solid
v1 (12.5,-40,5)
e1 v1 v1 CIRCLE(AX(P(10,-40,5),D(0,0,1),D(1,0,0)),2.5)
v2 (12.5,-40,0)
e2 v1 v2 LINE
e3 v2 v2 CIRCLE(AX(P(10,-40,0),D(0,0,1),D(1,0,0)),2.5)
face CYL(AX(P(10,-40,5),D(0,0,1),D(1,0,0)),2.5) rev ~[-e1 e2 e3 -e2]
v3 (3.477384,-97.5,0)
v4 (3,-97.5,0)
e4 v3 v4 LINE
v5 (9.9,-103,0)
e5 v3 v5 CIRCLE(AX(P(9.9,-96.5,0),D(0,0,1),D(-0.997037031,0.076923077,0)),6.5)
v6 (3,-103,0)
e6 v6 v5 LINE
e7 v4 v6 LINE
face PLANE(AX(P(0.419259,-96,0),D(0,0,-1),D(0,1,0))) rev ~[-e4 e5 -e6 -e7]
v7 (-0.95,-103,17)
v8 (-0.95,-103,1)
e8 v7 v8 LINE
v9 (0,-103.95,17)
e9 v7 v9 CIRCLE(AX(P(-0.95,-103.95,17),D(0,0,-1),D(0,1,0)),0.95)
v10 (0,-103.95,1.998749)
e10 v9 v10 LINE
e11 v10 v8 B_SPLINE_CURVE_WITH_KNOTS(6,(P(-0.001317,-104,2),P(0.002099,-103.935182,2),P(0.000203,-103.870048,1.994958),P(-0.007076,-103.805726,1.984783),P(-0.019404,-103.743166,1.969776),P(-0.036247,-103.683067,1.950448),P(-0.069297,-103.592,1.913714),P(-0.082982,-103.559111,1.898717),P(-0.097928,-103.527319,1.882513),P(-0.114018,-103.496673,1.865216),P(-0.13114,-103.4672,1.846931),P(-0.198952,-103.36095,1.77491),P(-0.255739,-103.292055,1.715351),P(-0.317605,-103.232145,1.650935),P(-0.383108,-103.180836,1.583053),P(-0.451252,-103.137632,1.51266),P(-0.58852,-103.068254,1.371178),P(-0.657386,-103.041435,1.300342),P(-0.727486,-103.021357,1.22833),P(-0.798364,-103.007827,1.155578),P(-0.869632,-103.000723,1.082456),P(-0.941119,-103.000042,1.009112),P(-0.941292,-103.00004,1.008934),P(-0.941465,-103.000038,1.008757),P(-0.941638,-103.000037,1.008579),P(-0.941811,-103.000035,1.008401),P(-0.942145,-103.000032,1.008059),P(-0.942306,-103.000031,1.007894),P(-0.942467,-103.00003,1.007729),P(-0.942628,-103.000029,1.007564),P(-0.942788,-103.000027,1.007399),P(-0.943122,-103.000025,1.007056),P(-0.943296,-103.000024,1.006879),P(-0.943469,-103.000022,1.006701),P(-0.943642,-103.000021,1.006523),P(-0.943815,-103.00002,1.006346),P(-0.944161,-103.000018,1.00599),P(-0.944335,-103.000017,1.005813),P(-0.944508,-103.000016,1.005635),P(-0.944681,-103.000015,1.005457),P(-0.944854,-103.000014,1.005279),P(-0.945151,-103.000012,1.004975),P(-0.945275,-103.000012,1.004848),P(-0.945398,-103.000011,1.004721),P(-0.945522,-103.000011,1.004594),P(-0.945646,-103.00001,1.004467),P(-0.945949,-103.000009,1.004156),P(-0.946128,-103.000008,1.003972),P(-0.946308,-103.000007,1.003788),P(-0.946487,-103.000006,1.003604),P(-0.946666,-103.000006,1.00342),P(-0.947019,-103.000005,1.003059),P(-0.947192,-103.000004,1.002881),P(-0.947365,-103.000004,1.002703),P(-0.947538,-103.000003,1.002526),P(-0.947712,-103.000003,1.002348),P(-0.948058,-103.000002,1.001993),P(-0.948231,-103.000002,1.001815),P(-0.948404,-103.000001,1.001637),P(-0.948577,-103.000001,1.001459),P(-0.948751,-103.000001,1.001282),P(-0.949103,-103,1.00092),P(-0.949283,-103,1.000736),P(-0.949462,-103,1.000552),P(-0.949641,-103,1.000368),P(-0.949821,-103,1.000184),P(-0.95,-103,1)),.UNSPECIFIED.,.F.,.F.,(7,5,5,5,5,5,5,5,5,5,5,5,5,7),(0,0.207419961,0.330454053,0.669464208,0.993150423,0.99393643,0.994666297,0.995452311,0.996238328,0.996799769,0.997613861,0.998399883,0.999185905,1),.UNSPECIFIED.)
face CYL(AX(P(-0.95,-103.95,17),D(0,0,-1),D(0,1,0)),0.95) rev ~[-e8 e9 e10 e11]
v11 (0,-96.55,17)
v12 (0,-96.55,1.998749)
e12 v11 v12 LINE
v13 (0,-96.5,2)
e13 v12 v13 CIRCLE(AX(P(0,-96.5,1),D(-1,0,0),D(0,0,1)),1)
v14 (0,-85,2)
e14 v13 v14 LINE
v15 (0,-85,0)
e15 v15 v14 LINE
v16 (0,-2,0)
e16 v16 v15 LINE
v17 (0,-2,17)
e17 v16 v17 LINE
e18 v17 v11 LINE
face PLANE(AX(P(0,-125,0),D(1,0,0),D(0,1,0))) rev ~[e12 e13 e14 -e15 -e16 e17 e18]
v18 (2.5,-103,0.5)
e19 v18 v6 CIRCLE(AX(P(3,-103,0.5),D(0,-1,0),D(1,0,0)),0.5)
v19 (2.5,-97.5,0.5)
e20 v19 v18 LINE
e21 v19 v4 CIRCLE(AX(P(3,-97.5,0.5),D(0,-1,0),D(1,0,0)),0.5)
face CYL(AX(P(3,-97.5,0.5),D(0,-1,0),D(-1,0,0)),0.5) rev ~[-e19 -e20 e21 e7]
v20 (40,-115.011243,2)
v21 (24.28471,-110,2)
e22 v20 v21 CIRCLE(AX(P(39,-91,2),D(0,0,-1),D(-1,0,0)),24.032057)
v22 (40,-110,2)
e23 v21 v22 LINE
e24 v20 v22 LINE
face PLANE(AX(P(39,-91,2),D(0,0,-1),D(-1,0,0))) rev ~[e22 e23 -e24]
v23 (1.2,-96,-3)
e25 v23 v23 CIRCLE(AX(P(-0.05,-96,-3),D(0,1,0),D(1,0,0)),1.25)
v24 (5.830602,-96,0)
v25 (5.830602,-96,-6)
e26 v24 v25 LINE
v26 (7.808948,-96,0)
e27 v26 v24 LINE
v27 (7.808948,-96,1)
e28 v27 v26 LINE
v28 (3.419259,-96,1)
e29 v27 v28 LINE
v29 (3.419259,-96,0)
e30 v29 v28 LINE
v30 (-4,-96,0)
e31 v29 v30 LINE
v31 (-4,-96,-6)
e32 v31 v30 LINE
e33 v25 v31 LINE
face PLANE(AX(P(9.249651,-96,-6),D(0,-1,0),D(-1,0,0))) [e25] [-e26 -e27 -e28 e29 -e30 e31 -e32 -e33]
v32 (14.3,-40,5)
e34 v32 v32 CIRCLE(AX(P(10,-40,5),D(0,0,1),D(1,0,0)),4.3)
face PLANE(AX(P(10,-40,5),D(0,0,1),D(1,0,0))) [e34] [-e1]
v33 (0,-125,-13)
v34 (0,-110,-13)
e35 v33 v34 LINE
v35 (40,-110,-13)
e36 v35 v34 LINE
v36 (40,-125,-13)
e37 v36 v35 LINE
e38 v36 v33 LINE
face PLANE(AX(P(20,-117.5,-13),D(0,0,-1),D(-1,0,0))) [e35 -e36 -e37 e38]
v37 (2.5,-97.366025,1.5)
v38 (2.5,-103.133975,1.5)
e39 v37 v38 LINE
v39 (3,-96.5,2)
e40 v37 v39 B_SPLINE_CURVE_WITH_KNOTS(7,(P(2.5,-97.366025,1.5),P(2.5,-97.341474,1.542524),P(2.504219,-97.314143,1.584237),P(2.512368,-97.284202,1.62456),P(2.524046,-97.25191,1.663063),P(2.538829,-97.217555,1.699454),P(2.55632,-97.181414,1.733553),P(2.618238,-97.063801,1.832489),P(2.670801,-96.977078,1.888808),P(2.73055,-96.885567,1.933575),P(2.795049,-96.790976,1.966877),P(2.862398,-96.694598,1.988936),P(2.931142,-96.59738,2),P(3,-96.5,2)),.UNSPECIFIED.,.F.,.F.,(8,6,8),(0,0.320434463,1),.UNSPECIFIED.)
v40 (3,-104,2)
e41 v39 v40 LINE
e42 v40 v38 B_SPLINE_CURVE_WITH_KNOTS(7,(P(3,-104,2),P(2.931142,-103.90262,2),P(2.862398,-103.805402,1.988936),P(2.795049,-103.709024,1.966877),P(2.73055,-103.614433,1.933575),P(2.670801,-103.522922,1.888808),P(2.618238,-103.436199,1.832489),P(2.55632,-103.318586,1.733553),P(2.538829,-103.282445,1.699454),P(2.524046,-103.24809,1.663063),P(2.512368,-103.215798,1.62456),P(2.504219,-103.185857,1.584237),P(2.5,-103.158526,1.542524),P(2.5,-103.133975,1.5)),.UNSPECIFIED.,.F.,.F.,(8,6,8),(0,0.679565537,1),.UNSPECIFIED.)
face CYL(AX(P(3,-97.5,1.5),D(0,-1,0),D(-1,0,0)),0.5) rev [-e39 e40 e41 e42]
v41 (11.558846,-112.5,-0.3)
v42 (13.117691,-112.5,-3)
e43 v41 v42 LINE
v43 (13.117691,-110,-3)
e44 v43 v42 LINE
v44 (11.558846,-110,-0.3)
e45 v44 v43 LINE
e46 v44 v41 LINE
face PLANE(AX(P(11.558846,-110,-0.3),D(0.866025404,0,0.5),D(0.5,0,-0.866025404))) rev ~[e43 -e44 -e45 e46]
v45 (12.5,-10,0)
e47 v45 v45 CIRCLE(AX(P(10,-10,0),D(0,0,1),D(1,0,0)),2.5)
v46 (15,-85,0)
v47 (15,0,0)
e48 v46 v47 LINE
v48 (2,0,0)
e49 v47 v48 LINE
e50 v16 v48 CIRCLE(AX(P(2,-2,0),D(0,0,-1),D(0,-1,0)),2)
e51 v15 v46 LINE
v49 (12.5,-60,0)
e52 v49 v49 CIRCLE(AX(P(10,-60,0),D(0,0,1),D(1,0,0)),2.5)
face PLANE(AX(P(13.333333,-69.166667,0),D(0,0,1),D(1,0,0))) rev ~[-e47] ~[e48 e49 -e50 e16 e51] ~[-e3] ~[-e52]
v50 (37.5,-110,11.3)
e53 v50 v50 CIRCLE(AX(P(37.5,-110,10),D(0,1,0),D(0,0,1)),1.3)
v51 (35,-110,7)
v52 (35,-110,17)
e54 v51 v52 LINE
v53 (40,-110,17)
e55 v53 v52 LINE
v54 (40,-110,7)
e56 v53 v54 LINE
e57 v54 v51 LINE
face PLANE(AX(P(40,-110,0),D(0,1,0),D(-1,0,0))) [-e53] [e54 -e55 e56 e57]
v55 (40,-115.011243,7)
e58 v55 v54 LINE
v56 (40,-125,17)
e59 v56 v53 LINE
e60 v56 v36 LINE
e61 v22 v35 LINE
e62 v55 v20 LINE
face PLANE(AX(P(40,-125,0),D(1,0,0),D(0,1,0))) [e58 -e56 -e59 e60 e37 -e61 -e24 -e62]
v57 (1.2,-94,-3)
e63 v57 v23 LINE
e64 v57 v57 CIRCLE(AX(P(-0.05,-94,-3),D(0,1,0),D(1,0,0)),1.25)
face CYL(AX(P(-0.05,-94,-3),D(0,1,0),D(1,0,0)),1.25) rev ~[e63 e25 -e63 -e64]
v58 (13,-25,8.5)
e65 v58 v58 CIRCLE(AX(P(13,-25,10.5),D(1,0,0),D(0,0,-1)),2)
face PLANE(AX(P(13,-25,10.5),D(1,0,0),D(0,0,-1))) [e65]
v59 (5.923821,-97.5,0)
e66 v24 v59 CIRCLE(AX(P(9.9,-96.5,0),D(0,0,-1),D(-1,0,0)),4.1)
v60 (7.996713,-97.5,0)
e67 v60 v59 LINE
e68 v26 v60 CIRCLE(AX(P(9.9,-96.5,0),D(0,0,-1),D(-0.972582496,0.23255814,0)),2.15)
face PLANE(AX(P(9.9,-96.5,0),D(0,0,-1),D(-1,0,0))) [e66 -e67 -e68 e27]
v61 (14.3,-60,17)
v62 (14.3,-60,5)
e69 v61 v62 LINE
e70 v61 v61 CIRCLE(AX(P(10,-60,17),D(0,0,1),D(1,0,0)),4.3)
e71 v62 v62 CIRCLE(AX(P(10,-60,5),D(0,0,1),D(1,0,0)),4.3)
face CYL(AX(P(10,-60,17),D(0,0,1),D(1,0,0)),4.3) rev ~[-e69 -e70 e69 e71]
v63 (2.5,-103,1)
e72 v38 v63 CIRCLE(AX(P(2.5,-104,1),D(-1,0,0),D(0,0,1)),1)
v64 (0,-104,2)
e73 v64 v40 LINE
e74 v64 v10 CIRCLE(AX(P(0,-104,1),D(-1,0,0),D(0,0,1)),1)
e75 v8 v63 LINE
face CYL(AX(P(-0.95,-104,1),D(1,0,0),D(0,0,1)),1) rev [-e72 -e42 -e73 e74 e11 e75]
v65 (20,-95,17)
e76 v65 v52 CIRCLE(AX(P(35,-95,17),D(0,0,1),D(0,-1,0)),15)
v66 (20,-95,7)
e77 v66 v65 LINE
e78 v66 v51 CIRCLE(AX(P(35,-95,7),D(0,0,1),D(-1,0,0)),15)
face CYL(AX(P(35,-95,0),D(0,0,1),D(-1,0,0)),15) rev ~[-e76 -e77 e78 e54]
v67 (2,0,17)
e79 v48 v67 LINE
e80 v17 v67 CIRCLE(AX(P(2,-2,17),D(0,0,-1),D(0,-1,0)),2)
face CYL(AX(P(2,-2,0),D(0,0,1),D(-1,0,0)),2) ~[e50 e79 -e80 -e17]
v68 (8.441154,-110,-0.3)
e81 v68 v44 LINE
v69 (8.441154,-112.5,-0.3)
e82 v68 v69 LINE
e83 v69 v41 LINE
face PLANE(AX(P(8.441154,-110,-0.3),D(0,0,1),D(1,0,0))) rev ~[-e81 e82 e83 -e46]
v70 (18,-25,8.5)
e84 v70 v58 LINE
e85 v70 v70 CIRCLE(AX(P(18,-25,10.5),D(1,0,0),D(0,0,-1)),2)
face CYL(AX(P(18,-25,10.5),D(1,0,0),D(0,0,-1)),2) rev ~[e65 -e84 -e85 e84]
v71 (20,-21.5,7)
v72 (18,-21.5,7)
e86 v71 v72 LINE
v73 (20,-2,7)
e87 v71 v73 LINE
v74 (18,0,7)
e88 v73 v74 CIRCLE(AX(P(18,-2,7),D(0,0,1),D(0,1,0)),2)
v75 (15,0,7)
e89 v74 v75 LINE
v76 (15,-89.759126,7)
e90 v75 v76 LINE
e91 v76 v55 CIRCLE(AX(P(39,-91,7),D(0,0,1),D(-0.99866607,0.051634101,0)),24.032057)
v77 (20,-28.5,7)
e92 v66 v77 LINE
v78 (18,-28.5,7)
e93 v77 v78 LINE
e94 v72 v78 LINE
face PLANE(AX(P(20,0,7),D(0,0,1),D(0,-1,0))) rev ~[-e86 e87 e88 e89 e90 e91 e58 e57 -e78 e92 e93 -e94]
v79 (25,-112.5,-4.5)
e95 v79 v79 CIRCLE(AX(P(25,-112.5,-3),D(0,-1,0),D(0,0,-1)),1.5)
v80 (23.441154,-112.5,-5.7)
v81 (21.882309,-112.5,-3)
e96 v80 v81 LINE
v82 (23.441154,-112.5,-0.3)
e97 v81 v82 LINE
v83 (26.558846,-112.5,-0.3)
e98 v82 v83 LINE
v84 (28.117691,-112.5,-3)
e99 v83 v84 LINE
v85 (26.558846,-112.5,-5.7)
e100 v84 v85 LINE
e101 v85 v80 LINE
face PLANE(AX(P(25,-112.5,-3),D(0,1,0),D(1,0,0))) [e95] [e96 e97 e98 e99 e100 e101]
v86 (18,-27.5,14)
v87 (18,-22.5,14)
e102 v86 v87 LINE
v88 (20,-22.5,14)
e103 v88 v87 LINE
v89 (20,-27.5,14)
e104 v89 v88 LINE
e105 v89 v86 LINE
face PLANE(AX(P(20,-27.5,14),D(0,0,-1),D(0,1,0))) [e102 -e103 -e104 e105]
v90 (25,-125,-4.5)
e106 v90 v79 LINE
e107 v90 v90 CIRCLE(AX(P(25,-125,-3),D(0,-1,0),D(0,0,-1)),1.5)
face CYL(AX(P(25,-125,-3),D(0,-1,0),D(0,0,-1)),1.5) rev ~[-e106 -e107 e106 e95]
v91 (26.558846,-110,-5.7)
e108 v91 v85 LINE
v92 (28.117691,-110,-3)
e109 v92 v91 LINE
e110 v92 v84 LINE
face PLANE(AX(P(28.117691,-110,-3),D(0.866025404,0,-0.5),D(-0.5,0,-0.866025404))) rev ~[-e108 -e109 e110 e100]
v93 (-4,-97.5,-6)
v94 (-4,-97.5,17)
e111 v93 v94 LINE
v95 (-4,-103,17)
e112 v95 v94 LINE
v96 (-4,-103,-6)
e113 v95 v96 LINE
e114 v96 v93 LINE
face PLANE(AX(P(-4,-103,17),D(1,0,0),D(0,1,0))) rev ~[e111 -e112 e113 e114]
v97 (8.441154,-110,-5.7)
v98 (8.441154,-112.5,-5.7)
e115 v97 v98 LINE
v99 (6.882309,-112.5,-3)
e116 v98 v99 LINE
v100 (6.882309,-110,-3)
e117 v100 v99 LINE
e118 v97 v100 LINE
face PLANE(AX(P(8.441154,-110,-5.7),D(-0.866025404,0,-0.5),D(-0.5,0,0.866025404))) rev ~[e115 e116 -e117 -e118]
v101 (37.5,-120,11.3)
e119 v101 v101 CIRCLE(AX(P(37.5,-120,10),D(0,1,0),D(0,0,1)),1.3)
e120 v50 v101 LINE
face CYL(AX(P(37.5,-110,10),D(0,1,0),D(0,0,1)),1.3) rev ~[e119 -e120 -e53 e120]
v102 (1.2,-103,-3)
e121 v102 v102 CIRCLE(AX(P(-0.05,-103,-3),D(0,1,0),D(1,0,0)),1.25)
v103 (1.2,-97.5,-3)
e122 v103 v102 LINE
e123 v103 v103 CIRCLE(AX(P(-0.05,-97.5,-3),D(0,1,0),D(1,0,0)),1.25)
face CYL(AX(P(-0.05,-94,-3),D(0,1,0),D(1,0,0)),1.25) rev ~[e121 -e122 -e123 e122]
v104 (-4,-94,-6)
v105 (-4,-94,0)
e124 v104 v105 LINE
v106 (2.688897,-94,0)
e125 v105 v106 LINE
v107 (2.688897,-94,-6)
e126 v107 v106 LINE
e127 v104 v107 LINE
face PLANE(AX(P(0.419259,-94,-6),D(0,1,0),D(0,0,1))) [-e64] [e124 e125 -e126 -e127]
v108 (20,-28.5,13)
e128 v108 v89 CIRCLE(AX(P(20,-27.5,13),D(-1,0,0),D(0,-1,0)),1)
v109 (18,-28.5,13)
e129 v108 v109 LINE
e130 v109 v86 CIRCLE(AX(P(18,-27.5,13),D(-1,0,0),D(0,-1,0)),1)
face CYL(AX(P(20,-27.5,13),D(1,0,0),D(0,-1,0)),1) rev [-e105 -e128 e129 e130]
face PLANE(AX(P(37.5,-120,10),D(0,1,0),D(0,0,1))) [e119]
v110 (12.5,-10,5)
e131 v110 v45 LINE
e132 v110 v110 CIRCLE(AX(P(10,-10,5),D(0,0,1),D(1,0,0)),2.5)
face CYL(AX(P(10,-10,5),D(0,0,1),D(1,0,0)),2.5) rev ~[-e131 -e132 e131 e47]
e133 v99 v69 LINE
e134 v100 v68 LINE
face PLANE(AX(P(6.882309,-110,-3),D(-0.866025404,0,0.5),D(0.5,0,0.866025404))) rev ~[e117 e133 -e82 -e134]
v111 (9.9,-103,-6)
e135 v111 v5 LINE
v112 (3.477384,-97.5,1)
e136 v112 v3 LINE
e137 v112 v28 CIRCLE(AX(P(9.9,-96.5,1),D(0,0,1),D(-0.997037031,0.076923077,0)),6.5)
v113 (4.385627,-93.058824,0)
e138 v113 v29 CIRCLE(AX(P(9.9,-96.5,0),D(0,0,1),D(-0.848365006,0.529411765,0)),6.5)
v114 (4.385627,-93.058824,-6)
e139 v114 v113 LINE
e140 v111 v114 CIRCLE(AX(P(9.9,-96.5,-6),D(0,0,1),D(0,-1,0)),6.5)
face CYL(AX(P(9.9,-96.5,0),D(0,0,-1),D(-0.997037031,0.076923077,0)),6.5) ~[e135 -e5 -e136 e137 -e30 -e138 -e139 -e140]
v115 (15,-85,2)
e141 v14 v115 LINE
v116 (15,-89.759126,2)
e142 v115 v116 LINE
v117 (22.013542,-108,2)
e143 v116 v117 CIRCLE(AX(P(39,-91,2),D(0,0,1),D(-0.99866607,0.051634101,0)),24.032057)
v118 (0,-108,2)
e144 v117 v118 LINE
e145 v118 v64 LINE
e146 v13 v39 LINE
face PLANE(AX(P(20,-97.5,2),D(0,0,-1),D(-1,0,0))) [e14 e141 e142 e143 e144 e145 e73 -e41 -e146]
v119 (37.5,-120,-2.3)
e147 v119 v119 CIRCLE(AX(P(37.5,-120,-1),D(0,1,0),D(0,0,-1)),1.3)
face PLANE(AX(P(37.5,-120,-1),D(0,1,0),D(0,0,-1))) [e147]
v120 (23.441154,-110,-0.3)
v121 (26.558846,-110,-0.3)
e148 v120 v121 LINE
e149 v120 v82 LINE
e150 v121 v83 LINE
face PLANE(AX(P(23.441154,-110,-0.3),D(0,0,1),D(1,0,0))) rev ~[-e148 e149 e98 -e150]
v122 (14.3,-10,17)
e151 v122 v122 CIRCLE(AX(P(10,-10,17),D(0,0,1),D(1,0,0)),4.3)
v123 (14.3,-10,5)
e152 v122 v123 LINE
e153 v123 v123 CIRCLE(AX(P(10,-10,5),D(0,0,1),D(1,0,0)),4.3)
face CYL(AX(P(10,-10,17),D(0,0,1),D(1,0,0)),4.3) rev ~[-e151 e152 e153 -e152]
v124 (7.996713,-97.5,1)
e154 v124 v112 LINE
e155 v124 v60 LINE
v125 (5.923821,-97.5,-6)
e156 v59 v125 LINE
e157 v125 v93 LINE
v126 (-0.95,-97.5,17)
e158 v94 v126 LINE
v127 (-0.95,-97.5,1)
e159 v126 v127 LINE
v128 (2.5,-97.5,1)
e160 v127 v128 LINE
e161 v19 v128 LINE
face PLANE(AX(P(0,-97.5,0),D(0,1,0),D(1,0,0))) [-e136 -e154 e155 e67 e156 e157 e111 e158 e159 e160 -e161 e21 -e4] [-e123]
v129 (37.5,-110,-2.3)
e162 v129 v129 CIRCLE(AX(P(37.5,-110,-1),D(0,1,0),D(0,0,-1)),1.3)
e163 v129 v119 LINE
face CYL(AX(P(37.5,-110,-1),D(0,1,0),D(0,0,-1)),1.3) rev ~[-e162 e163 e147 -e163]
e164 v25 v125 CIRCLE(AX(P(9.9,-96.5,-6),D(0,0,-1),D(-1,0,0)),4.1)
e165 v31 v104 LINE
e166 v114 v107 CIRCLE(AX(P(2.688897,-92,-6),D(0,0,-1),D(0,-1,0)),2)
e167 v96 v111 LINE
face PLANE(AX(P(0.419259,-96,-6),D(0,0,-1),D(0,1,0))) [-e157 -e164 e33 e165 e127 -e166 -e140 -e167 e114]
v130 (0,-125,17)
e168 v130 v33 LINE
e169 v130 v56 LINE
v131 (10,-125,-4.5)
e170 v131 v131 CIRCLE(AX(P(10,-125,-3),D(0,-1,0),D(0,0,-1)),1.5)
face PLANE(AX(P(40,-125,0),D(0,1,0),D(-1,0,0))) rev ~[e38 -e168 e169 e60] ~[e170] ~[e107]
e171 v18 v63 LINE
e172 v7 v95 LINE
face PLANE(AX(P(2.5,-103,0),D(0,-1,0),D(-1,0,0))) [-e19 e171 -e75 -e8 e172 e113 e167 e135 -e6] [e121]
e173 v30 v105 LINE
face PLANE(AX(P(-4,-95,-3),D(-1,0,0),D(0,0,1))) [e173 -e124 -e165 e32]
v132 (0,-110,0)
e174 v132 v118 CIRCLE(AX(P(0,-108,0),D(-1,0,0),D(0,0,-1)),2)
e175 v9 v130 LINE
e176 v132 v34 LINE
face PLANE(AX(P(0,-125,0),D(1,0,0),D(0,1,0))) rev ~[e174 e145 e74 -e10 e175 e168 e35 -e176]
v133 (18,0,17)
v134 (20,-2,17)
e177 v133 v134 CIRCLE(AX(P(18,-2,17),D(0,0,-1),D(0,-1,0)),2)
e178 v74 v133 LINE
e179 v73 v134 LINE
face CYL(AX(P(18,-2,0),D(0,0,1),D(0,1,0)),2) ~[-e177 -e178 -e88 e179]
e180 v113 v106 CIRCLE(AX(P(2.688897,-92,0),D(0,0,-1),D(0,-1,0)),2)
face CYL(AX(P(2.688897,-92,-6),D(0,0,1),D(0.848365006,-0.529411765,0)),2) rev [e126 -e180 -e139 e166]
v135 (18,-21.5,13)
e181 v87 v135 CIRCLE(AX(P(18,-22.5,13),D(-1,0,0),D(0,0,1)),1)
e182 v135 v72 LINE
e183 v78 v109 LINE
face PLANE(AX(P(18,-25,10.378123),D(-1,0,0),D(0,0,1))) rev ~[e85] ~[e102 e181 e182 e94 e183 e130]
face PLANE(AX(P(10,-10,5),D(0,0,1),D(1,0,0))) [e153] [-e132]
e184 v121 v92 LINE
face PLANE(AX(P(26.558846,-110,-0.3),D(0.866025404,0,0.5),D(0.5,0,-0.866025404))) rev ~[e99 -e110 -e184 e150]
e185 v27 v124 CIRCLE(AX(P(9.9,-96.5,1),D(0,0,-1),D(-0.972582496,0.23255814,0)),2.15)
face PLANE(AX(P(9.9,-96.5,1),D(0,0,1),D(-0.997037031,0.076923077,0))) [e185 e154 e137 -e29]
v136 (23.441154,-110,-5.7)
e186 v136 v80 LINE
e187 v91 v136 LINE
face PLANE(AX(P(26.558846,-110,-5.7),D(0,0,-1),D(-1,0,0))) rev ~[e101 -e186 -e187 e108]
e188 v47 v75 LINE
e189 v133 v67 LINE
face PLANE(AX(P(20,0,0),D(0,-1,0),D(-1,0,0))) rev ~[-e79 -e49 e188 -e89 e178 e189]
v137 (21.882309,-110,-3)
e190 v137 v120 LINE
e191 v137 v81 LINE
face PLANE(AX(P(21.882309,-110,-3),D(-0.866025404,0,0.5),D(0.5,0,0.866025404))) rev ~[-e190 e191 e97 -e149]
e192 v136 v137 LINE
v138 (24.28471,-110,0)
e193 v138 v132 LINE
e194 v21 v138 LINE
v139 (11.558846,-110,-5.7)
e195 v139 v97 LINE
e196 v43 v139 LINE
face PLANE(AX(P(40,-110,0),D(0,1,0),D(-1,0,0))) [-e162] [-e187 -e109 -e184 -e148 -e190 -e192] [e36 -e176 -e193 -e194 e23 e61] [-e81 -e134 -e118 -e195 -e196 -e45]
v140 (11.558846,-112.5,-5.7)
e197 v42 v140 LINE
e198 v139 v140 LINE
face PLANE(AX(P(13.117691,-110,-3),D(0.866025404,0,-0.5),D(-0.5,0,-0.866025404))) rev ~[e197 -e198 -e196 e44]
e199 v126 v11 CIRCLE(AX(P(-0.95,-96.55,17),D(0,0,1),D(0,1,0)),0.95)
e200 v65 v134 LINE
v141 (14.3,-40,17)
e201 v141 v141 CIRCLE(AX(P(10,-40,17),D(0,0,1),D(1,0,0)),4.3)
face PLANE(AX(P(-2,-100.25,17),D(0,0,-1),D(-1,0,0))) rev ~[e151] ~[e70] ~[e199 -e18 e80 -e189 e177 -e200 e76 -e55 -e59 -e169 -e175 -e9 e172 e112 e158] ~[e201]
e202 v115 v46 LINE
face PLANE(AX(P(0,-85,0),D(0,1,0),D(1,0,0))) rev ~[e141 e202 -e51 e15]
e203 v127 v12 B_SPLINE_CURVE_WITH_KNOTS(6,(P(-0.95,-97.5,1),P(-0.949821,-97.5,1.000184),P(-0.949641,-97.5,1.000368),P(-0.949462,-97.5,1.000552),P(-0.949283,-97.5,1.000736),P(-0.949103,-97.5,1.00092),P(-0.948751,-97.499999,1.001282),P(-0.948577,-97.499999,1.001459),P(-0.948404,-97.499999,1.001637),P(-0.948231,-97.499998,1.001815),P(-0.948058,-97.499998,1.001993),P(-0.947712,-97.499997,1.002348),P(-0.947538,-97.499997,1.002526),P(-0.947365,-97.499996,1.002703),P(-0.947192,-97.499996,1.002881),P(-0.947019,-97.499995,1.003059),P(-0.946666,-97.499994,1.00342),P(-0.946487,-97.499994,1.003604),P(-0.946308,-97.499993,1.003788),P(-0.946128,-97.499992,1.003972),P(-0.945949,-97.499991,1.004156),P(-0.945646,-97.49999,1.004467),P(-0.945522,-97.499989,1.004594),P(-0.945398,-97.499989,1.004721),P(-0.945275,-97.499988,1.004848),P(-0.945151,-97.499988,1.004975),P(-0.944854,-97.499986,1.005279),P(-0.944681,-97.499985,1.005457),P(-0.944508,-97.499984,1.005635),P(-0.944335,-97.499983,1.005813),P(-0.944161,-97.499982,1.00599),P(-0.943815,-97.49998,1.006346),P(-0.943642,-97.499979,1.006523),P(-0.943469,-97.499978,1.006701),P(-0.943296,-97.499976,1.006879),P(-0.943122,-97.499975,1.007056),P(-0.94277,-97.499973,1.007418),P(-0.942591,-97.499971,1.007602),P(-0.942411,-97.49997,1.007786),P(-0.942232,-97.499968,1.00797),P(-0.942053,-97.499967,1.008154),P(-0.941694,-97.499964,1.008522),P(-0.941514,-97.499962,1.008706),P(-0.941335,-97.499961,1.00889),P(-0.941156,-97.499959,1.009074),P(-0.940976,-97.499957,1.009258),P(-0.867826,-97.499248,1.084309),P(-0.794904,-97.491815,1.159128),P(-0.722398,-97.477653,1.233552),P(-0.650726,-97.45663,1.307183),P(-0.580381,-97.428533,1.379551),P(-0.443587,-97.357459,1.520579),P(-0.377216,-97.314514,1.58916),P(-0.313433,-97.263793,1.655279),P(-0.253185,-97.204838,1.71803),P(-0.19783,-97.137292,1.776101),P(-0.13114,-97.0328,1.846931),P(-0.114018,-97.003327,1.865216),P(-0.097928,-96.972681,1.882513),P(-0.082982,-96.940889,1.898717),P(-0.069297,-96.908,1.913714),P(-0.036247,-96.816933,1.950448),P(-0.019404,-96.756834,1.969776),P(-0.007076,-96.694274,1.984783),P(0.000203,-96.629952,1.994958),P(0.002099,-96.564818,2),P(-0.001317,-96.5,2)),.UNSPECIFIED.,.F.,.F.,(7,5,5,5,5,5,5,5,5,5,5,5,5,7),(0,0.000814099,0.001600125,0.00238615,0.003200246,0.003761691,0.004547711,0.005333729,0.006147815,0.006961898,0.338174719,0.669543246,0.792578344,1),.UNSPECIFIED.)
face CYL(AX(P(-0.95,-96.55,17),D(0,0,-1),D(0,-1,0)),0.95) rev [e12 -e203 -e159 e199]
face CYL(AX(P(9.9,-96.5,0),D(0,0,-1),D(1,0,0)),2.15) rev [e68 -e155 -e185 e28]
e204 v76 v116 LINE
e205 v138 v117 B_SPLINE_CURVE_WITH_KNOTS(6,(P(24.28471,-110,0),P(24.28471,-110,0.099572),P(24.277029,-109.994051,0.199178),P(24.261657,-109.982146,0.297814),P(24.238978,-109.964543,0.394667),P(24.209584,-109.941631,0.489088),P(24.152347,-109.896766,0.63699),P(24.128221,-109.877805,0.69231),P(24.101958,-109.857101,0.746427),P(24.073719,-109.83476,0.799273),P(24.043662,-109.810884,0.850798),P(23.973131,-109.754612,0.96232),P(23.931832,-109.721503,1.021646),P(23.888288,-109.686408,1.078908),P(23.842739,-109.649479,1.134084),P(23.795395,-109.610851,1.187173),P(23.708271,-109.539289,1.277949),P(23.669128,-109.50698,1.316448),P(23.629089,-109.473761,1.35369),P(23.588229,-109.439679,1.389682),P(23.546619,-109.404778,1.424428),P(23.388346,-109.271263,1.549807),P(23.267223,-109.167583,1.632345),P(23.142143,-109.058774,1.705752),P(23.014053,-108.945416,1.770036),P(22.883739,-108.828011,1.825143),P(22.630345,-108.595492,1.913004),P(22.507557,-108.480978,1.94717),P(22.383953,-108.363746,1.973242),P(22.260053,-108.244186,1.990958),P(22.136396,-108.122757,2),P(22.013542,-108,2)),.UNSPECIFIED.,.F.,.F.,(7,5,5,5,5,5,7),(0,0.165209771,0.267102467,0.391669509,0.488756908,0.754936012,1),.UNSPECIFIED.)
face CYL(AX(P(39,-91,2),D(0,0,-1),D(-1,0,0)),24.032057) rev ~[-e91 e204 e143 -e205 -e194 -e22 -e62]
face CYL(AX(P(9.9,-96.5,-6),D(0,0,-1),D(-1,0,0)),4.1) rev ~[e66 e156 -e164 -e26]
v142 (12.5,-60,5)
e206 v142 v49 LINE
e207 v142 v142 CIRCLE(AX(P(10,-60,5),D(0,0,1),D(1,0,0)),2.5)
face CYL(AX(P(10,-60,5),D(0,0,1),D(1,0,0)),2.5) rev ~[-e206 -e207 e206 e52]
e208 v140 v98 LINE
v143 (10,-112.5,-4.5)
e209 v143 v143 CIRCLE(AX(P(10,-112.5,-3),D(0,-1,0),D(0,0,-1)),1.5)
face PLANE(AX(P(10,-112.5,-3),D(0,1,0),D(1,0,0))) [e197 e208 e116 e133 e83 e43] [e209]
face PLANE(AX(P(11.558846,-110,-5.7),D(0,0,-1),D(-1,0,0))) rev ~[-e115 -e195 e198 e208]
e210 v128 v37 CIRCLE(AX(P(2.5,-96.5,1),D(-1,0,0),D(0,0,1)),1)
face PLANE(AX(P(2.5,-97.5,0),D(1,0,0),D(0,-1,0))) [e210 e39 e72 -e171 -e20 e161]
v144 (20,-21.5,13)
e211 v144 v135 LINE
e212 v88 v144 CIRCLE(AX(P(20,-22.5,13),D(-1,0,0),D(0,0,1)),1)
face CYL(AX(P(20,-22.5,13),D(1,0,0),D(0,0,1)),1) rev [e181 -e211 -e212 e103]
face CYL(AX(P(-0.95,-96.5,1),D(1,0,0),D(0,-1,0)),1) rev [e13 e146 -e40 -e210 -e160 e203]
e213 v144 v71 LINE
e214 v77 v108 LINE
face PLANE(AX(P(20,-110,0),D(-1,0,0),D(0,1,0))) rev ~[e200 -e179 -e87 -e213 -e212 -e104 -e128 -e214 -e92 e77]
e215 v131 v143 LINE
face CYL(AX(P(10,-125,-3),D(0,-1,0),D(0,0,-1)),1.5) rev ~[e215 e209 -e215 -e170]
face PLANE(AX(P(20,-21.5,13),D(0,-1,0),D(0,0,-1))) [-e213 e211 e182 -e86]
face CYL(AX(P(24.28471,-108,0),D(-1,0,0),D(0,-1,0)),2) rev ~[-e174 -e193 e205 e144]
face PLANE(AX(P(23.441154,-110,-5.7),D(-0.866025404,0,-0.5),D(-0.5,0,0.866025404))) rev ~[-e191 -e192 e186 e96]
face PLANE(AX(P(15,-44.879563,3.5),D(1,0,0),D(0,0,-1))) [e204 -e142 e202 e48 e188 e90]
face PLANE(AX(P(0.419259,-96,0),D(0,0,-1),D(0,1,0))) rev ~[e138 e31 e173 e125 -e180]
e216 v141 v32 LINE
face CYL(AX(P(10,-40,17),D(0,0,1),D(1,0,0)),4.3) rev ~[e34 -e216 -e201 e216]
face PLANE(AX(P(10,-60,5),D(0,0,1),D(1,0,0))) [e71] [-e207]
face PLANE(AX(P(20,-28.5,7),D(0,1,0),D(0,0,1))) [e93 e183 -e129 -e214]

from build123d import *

# Parameters (mm, degrees)
BOSS_EXTRUDE1_DEPTH = 17
SKETCH3_W           = 40
SKETCH3_H           = 15
BOSS_EXTRUDE3_DEPTH = 13
FILLET1_R           = 15
SKETCH4_R           = 1.5000000000000004
SKETCH4_R_2         = 1.5000000000000007
CUT_EXTRUDE1_DEPTH  = 20
CUT_EXTRUDE2_DEPTH  = 2.5
SKETCH6_R           = 4.299999999999999
SKETCH6_R_2         = 4.299999999999998
SKETCH6_R_3         = 4.3
CUT_EXTRUDE3_DEPTH  = 12
SKETCH7_R           = 2.5000000000000004
SKETCH7_R_2         = 2.500000000000001
CUT_EXTRUDE4_DEPTH  = 12
CUT_EXTRUDE5_DEPTH  = 2
BOSS_EXTRUDE4_DEPTH = 23
BOSS_EXTRUDE5_DEPTH = 6
SKETCH11_W          = 6
SKETCH11_H          = 2
BOSS_EXTRUDE6_DEPTH = 4.419259302
SKETCH12_R          = 1.2500000000000002
CUT_EXTRUDE7_DEPTH  = 10
FILLET4_R           = 0.95
FILLET6_R           = 2
SKETCH13_R          = 6.500000000000007
SKETCH13_R_2        = 2.150000000000001
BOSS_EXTRUDE7_DEPTH = 1
SKETCH14_W          = 13.249650970727469
SKETCH14_H          = 1.5
CUT_EXTRUDE8_DEPTH  = 7
BOSS_EXTRUDE8_DEPTH = 10
SKETCH16_R          = 4.100000000000001
CUT_EXTRUDE9_DEPTH  = 6
CUT_EXTRUDE10_DEPTH = 5
SKETCH18_R          = 24.032057078793116
CUT_EXTRUDE11_DEPTH = 5
SKETCH20_R          = 1.3000000000000016
CUT_EXTRUDE12_DEPTH = 10
FILLET7_R           = 0.5
FILLET8_R           = 2
FILLET9_R           = 2
FILLET10_R          = 1
FILLET11_R          = 1
CUT_EXTRUDE15_DEPTH = 2
SKETCH24_R          = 2
CUT_EXTRUDE16_DEPTH = 5


with BuildPart() as part:
    # Sketch1 → Boss-Extrude1 (new body)
    with BuildSketch(Plane.XY):
        Polygon((0, 0), (1.531e-14, -125), (40.000000000000014, -125), (40.000000000000014, -110), (20.000000000000014, -110), (20.000000000000014, 0), align=None)
    extrude(amount=BOSS_EXTRUDE1_DEPTH)

    # Sketch3 → Boss-Extrude3 (add)
    with BuildSketch(Plane(origin=(0, 0, 0), x_dir=(-1, 0, 0), z_dir=(0, 0, -1))):
        with Locations((-20.000000000000014, -117.50000000000001)):
            Rectangle(SKETCH3_W, SKETCH3_H)
    extrude(amount=BOSS_EXTRUDE3_DEPTH)

    # Fillet1
    fillet1_edges = [part.edges().sort_by_distance(p)[0] for p in [
        (20.000000000000014, -110, 8.5),
    ]]
    fillet(fillet1_edges, radius=FILLET1_R)

    # Sketch4 → Cut-Extrude1 (cut)
    with BuildSketch(Plane.XZ.offset(125)):
        with Locations(Location((10.000000000000016, -2.999999999999999, 0), (0, 0, 270))):
            Circle(SKETCH4_R)
        with Locations(Location((25.000000000000014, -2.999999999999999, 0), (0, 0, 270))):
            Circle(SKETCH4_R_2)
    extrude(amount=-CUT_EXTRUDE1_DEPTH, mode=Mode.SUBTRACT)

    # Sketch5 → Cut-Extrude2 (cut)
    with BuildSketch(Plane(origin=(0, -110, 0), x_dir=(1, 0, 0), z_dir=(0, 1, 0))):
        Polygon((6.882308546376037, 3.0000000000000013), (8.441154273188026, 0.2999999999999986), (11.558845726812006, 0.2999999999999995), (13.117691453623996, 3.0000000000000018), (11.558845726812008, 5.7), (8.441154273188026, 5.699999999999998), align=None)
        Polygon((21.882308546376034, 2.999999999999999), (23.441154273188026, 0.2999999999999969), (26.558845726812, 0.29999999999999777), (28.117691453623994, 2.999999999999999), (26.558845726812, 5.6999999999999975), (23.441154273188022, 5.699999999999997), align=None)
    extrude(amount=-CUT_EXTRUDE2_DEPTH, mode=Mode.SUBTRACT)

    # Sketch6 → Cut-Extrude3 (cut)
    with BuildSketch(Plane.XY.offset(17)):
        with Locations((10.000000000000009, -10.000000000000002)):
            Circle(SKETCH6_R)
        with Locations((10.000000000000012, -40)):
            Circle(SKETCH6_R_2)
        with Locations((10.000000000000014, -60)):
            Circle(SKETCH6_R_3)
    extrude(amount=-CUT_EXTRUDE3_DEPTH, mode=Mode.SUBTRACT)

    # Sketch7 → Cut-Extrude4 (cut)
    with BuildSketch(Plane.XY.offset(5.000000000000001)):
        with Locations((10.000000000000009, -10.000000000000002)):
            Circle(SKETCH7_R)
        with Locations((10.000000000000012, -40)):
            Circle(SKETCH7_R_2)
        with Locations((10.000000000000014, -60)):
            Circle(SKETCH7_R_2)
    extrude(amount=-CUT_EXTRUDE4_DEPTH, mode=Mode.SUBTRACT)

    # Sketch8 → Cut-Extrude5 (cut)
    with BuildSketch(Plane(origin=(0, 0, 0), x_dir=(-1, 0, 0), z_dir=(0, 0, -1))):
        Polygon((-1.531e-14, -110), (-3.06e-15, -84.99999999999999), (-40.000000000000014, -84.99999999999999), (-40.000000000000014, -110), align=None)
    extrude(amount=-CUT_EXTRUDE5_DEPTH, mode=Mode.SUBTRACT)

    # Sketch9 → Boss-Extrude4 (add)
    with BuildSketch(Plane.XY.offset(17)):
        Polygon((-2.69e-15, -103.00000000000001), (-4, -103.00000000000001), (-4, -97.5), (0, -97.5), align=None)
    extrude(amount=-BOSS_EXTRUDE4_DEPTH)

    # Sketch10 → Boss-Extrude5 (add)
    with BuildSketch(Plane(origin=(0, 0, -5.999999999999998), x_dir=(-1, 0, 0), z_dir=(0, 0, -1))):
        with BuildLine():
            Line((4, -103.00000000000001), (-9.9, -103.00000000000001))
            ThreePointArc((-9.9, -103.00000000000001), (-15.308326913195994, -92.894448724536), (-3.8999999999999964, -94))
            Line((-3.8999999999999964, -94), (-0.41925930159213404, -94))
            Line((-0.41925930159213404, -94), (-0.41925930159213404, -96))
            Line((-0.41925930159213404, -96), (-5.931373033403113, -96))
            ThreePointArc((-5.931373033403113, -96), (-13.892119004323362, -96.24903017049799), (-6.025237793012059, -97.49308501111332))
            Line((-6.025237793012059, -97.49308501111332), (4, -97.5))
            Line((4, -97.5), (4, -103.00000000000001))
        make_face()
    extrude(amount=-BOSS_EXTRUDE5_DEPTH)

    # Sketch11 → Boss-Extrude6 (add)
    with BuildSketch(Plane.ZY.offset(-0.41925930159213404)):
        with Locations((-2.9999999999999982, -95)):
            Rectangle(SKETCH11_W, SKETCH11_H)
    extrude(amount=BOSS_EXTRUDE6_DEPTH)

    # Sketch12 → Cut-Extrude7 (cut)
    with BuildSketch(Plane(origin=(0, -94, 0), x_dir=(1, 0, 0), z_dir=(0, 1, 0))):
        with Locations((-0.05000000000000317, 2.9999999999999982)):
            Circle(SKETCH12_R)
    extrude(amount=-CUT_EXTRUDE7_DEPTH, mode=Mode.SUBTRACT)

    # Fillet4
    fillet4_edges = [part.edges().sort_by_distance(p)[0] for p in [
        (0, -97.5, 9.5),
        (-2.69e-15, -103.00000000000001, 9.5),
    ]]
    fillet(fillet4_edges, radius=FILLET4_R)

    # Fillet6
    fillet6_edges = [part.edges().sort_by_distance(p)[0] for p in [
        (20.000000000000014, 0, 8.5),
        (0, 0, 8.5),
    ]]
    fillet(fillet6_edges, radius=FILLET6_R)

    # Sketch13 → Boss-Extrude7 (add)
    with BuildSketch(Plane.XY):
        with Locations(Location((9.9, -96.5, 0), (0, 0, 175.588274214))):
            Circle(SKETCH13_R)
        with Locations((9.9, -96.5)):
            Circle(SKETCH13_R_2, mode=Mode.SUBTRACT)
    extrude(amount=BOSS_EXTRUDE7_DEPTH)

    # Sketch14 → Cut-Extrude8 (cut)
    with BuildSketch(Plane(origin=(0, 0, -5.999999999999998), x_dir=(-1, 0, 0), z_dir=(0, 0, -1))):
        with Locations((-2.6248254853637345, -96.75)):
            Rectangle(SKETCH14_W, SKETCH14_H)
    extrude(amount=-CUT_EXTRUDE8_DEPTH, mode=Mode.SUBTRACT)

    # Sketch15 → Boss-Extrude8 (add)
    with BuildSketch(Plane.XY):
        Polygon((0, -97.5), (2.5, -97.5), (2.5000000000000013, -103.00000000000001), (0, -103.00000000000001), align=None)
    extrude(amount=BOSS_EXTRUDE8_DEPTH)

    # Sketch16 → Cut-Extrude9 (cut)
    with BuildSketch(Plane(origin=(0, 0, -5.999999999999998), x_dir=(-1, 0, 0), z_dir=(0, 0, -1))):
        with Locations((-9.9, -96.5)):
            Circle(SKETCH16_R)
    extrude(amount=-CUT_EXTRUDE9_DEPTH, mode=Mode.SUBTRACT)

    # Sketch17 → Cut-Extrude10 (cut)
    with BuildSketch(Plane(origin=(20.000000000000014, 0, 0), x_dir=(0, 0, -1), z_dir=(1, 0, 0))):
        Polygon((0, 0), (-7, -8.6e-16), (-6.9999999999999885, -89.75912634068962), (0, -89.75912634068962), align=None)
    extrude(amount=-CUT_EXTRUDE10_DEPTH, mode=Mode.SUBTRACT)

    # Sketch18 → Cut-Extrude11 (cut)
    with BuildSketch(Plane(origin=(0, 0, 2), x_dir=(-1, 0, 0), z_dir=(0, 0, -1))):
        with Locations((-39.000000000000014, -91)):
            Circle(SKETCH18_R)
    extrude(amount=-CUT_EXTRUDE11_DEPTH, mode=Mode.SUBTRACT)

    # Sketch20 → Cut-Extrude12 (cut)
    with BuildSketch(Plane(origin=(0, -110, 0), x_dir=(1, 0, 0), z_dir=(0, 1, 0))):
        with Locations(Location((37.50000000000002, -9.999999999999998, 0), (0, 0, 270))):
            Circle(SKETCH20_R)
        with Locations(Location((37.50000000000002, 0.9999999999999974, 0), (0, 0, 90))):
            Circle(SKETCH20_R)
    extrude(amount=-CUT_EXTRUDE12_DEPTH, mode=Mode.SUBTRACT)

    # Fillet7
    fillet7_edges = [part.edges().sort_by_distance(p)[0] for p in [
        (2.500000000000001, -100.25, 2),
        (2.500000000000001, -100.25, 0),
    ]]
    fillet(fillet7_edges, radius=FILLET7_R)

    # Fillet8
    fillet8_edges = [part.edges().sort_by_distance(p)[0] for p in [
        (12.142354869960766, -110, 2),
    ]]
    fillet(fillet8_edges, radius=FILLET8_R)

    # Fillet9
    fillet9_edges = [part.edges().sort_by_distance(p)[0] for p in [
        (3.899999999999995, -94, -2.9999999999999982),
    ]]
    fillet(fillet9_edges, radius=FILLET9_R)

    # Fillet10
    fillet10_edges = [part.edges().sort_by_distance(p)[0] for p in [
        (1.025000000000007, -103.00000000000001, 2),
    ]]
    fillet(fillet10_edges, radius=FILLET10_R)

    # Fillet11
    fillet11_edges = [part.edges().sort_by_distance(p)[0] for p in [
        (1.0250000000000057, -97.5, 2),
    ]]
    fillet(fillet11_edges, radius=FILLET11_R)

    # Sketch23 → Cut-Extrude15 (cut)
    with BuildSketch(Plane(origin=(20.000000000000014, 0, 0), x_dir=(0, 0, -1), z_dir=(1, 0, 0))):
        with BuildLine():
            Line((-7, -21.5), (-7, -28.499999999999996))
            Line((-7, -28.499999999999996), (-12.999999999999993, -28.499999999999996))
            ThreePointArc((-12.999999999999993, -28.499999999999996), (-13.707106781186548, -28.207106781186543), (-14, -27.49999999999999))
            Line((-14, -27.49999999999999), (-14, -22.500000000000007))
            ThreePointArc((-14, -22.500000000000007), (-13.707106781186548, -21.79289321881345), (-12.999999999999993, -21.5))
            Line((-12.999999999999993, -21.5), (-7, -21.5))
        make_face()
    extrude(amount=-CUT_EXTRUDE15_DEPTH, mode=Mode.SUBTRACT)

    # Sketch24 → Cut-Extrude16 (cut)
    with BuildSketch(Plane(origin=(18.000000000000014, 0, 0), x_dir=(0, 0, -1), z_dir=(1, 0, 0))):
        with Locations((-10.5, -24.999999999999996)):
            Circle(SKETCH24_R)
    extrude(amount=-CUT_EXTRUDE16_DEPTH, mode=Mode.SUBTRACT)


solid = part.part
